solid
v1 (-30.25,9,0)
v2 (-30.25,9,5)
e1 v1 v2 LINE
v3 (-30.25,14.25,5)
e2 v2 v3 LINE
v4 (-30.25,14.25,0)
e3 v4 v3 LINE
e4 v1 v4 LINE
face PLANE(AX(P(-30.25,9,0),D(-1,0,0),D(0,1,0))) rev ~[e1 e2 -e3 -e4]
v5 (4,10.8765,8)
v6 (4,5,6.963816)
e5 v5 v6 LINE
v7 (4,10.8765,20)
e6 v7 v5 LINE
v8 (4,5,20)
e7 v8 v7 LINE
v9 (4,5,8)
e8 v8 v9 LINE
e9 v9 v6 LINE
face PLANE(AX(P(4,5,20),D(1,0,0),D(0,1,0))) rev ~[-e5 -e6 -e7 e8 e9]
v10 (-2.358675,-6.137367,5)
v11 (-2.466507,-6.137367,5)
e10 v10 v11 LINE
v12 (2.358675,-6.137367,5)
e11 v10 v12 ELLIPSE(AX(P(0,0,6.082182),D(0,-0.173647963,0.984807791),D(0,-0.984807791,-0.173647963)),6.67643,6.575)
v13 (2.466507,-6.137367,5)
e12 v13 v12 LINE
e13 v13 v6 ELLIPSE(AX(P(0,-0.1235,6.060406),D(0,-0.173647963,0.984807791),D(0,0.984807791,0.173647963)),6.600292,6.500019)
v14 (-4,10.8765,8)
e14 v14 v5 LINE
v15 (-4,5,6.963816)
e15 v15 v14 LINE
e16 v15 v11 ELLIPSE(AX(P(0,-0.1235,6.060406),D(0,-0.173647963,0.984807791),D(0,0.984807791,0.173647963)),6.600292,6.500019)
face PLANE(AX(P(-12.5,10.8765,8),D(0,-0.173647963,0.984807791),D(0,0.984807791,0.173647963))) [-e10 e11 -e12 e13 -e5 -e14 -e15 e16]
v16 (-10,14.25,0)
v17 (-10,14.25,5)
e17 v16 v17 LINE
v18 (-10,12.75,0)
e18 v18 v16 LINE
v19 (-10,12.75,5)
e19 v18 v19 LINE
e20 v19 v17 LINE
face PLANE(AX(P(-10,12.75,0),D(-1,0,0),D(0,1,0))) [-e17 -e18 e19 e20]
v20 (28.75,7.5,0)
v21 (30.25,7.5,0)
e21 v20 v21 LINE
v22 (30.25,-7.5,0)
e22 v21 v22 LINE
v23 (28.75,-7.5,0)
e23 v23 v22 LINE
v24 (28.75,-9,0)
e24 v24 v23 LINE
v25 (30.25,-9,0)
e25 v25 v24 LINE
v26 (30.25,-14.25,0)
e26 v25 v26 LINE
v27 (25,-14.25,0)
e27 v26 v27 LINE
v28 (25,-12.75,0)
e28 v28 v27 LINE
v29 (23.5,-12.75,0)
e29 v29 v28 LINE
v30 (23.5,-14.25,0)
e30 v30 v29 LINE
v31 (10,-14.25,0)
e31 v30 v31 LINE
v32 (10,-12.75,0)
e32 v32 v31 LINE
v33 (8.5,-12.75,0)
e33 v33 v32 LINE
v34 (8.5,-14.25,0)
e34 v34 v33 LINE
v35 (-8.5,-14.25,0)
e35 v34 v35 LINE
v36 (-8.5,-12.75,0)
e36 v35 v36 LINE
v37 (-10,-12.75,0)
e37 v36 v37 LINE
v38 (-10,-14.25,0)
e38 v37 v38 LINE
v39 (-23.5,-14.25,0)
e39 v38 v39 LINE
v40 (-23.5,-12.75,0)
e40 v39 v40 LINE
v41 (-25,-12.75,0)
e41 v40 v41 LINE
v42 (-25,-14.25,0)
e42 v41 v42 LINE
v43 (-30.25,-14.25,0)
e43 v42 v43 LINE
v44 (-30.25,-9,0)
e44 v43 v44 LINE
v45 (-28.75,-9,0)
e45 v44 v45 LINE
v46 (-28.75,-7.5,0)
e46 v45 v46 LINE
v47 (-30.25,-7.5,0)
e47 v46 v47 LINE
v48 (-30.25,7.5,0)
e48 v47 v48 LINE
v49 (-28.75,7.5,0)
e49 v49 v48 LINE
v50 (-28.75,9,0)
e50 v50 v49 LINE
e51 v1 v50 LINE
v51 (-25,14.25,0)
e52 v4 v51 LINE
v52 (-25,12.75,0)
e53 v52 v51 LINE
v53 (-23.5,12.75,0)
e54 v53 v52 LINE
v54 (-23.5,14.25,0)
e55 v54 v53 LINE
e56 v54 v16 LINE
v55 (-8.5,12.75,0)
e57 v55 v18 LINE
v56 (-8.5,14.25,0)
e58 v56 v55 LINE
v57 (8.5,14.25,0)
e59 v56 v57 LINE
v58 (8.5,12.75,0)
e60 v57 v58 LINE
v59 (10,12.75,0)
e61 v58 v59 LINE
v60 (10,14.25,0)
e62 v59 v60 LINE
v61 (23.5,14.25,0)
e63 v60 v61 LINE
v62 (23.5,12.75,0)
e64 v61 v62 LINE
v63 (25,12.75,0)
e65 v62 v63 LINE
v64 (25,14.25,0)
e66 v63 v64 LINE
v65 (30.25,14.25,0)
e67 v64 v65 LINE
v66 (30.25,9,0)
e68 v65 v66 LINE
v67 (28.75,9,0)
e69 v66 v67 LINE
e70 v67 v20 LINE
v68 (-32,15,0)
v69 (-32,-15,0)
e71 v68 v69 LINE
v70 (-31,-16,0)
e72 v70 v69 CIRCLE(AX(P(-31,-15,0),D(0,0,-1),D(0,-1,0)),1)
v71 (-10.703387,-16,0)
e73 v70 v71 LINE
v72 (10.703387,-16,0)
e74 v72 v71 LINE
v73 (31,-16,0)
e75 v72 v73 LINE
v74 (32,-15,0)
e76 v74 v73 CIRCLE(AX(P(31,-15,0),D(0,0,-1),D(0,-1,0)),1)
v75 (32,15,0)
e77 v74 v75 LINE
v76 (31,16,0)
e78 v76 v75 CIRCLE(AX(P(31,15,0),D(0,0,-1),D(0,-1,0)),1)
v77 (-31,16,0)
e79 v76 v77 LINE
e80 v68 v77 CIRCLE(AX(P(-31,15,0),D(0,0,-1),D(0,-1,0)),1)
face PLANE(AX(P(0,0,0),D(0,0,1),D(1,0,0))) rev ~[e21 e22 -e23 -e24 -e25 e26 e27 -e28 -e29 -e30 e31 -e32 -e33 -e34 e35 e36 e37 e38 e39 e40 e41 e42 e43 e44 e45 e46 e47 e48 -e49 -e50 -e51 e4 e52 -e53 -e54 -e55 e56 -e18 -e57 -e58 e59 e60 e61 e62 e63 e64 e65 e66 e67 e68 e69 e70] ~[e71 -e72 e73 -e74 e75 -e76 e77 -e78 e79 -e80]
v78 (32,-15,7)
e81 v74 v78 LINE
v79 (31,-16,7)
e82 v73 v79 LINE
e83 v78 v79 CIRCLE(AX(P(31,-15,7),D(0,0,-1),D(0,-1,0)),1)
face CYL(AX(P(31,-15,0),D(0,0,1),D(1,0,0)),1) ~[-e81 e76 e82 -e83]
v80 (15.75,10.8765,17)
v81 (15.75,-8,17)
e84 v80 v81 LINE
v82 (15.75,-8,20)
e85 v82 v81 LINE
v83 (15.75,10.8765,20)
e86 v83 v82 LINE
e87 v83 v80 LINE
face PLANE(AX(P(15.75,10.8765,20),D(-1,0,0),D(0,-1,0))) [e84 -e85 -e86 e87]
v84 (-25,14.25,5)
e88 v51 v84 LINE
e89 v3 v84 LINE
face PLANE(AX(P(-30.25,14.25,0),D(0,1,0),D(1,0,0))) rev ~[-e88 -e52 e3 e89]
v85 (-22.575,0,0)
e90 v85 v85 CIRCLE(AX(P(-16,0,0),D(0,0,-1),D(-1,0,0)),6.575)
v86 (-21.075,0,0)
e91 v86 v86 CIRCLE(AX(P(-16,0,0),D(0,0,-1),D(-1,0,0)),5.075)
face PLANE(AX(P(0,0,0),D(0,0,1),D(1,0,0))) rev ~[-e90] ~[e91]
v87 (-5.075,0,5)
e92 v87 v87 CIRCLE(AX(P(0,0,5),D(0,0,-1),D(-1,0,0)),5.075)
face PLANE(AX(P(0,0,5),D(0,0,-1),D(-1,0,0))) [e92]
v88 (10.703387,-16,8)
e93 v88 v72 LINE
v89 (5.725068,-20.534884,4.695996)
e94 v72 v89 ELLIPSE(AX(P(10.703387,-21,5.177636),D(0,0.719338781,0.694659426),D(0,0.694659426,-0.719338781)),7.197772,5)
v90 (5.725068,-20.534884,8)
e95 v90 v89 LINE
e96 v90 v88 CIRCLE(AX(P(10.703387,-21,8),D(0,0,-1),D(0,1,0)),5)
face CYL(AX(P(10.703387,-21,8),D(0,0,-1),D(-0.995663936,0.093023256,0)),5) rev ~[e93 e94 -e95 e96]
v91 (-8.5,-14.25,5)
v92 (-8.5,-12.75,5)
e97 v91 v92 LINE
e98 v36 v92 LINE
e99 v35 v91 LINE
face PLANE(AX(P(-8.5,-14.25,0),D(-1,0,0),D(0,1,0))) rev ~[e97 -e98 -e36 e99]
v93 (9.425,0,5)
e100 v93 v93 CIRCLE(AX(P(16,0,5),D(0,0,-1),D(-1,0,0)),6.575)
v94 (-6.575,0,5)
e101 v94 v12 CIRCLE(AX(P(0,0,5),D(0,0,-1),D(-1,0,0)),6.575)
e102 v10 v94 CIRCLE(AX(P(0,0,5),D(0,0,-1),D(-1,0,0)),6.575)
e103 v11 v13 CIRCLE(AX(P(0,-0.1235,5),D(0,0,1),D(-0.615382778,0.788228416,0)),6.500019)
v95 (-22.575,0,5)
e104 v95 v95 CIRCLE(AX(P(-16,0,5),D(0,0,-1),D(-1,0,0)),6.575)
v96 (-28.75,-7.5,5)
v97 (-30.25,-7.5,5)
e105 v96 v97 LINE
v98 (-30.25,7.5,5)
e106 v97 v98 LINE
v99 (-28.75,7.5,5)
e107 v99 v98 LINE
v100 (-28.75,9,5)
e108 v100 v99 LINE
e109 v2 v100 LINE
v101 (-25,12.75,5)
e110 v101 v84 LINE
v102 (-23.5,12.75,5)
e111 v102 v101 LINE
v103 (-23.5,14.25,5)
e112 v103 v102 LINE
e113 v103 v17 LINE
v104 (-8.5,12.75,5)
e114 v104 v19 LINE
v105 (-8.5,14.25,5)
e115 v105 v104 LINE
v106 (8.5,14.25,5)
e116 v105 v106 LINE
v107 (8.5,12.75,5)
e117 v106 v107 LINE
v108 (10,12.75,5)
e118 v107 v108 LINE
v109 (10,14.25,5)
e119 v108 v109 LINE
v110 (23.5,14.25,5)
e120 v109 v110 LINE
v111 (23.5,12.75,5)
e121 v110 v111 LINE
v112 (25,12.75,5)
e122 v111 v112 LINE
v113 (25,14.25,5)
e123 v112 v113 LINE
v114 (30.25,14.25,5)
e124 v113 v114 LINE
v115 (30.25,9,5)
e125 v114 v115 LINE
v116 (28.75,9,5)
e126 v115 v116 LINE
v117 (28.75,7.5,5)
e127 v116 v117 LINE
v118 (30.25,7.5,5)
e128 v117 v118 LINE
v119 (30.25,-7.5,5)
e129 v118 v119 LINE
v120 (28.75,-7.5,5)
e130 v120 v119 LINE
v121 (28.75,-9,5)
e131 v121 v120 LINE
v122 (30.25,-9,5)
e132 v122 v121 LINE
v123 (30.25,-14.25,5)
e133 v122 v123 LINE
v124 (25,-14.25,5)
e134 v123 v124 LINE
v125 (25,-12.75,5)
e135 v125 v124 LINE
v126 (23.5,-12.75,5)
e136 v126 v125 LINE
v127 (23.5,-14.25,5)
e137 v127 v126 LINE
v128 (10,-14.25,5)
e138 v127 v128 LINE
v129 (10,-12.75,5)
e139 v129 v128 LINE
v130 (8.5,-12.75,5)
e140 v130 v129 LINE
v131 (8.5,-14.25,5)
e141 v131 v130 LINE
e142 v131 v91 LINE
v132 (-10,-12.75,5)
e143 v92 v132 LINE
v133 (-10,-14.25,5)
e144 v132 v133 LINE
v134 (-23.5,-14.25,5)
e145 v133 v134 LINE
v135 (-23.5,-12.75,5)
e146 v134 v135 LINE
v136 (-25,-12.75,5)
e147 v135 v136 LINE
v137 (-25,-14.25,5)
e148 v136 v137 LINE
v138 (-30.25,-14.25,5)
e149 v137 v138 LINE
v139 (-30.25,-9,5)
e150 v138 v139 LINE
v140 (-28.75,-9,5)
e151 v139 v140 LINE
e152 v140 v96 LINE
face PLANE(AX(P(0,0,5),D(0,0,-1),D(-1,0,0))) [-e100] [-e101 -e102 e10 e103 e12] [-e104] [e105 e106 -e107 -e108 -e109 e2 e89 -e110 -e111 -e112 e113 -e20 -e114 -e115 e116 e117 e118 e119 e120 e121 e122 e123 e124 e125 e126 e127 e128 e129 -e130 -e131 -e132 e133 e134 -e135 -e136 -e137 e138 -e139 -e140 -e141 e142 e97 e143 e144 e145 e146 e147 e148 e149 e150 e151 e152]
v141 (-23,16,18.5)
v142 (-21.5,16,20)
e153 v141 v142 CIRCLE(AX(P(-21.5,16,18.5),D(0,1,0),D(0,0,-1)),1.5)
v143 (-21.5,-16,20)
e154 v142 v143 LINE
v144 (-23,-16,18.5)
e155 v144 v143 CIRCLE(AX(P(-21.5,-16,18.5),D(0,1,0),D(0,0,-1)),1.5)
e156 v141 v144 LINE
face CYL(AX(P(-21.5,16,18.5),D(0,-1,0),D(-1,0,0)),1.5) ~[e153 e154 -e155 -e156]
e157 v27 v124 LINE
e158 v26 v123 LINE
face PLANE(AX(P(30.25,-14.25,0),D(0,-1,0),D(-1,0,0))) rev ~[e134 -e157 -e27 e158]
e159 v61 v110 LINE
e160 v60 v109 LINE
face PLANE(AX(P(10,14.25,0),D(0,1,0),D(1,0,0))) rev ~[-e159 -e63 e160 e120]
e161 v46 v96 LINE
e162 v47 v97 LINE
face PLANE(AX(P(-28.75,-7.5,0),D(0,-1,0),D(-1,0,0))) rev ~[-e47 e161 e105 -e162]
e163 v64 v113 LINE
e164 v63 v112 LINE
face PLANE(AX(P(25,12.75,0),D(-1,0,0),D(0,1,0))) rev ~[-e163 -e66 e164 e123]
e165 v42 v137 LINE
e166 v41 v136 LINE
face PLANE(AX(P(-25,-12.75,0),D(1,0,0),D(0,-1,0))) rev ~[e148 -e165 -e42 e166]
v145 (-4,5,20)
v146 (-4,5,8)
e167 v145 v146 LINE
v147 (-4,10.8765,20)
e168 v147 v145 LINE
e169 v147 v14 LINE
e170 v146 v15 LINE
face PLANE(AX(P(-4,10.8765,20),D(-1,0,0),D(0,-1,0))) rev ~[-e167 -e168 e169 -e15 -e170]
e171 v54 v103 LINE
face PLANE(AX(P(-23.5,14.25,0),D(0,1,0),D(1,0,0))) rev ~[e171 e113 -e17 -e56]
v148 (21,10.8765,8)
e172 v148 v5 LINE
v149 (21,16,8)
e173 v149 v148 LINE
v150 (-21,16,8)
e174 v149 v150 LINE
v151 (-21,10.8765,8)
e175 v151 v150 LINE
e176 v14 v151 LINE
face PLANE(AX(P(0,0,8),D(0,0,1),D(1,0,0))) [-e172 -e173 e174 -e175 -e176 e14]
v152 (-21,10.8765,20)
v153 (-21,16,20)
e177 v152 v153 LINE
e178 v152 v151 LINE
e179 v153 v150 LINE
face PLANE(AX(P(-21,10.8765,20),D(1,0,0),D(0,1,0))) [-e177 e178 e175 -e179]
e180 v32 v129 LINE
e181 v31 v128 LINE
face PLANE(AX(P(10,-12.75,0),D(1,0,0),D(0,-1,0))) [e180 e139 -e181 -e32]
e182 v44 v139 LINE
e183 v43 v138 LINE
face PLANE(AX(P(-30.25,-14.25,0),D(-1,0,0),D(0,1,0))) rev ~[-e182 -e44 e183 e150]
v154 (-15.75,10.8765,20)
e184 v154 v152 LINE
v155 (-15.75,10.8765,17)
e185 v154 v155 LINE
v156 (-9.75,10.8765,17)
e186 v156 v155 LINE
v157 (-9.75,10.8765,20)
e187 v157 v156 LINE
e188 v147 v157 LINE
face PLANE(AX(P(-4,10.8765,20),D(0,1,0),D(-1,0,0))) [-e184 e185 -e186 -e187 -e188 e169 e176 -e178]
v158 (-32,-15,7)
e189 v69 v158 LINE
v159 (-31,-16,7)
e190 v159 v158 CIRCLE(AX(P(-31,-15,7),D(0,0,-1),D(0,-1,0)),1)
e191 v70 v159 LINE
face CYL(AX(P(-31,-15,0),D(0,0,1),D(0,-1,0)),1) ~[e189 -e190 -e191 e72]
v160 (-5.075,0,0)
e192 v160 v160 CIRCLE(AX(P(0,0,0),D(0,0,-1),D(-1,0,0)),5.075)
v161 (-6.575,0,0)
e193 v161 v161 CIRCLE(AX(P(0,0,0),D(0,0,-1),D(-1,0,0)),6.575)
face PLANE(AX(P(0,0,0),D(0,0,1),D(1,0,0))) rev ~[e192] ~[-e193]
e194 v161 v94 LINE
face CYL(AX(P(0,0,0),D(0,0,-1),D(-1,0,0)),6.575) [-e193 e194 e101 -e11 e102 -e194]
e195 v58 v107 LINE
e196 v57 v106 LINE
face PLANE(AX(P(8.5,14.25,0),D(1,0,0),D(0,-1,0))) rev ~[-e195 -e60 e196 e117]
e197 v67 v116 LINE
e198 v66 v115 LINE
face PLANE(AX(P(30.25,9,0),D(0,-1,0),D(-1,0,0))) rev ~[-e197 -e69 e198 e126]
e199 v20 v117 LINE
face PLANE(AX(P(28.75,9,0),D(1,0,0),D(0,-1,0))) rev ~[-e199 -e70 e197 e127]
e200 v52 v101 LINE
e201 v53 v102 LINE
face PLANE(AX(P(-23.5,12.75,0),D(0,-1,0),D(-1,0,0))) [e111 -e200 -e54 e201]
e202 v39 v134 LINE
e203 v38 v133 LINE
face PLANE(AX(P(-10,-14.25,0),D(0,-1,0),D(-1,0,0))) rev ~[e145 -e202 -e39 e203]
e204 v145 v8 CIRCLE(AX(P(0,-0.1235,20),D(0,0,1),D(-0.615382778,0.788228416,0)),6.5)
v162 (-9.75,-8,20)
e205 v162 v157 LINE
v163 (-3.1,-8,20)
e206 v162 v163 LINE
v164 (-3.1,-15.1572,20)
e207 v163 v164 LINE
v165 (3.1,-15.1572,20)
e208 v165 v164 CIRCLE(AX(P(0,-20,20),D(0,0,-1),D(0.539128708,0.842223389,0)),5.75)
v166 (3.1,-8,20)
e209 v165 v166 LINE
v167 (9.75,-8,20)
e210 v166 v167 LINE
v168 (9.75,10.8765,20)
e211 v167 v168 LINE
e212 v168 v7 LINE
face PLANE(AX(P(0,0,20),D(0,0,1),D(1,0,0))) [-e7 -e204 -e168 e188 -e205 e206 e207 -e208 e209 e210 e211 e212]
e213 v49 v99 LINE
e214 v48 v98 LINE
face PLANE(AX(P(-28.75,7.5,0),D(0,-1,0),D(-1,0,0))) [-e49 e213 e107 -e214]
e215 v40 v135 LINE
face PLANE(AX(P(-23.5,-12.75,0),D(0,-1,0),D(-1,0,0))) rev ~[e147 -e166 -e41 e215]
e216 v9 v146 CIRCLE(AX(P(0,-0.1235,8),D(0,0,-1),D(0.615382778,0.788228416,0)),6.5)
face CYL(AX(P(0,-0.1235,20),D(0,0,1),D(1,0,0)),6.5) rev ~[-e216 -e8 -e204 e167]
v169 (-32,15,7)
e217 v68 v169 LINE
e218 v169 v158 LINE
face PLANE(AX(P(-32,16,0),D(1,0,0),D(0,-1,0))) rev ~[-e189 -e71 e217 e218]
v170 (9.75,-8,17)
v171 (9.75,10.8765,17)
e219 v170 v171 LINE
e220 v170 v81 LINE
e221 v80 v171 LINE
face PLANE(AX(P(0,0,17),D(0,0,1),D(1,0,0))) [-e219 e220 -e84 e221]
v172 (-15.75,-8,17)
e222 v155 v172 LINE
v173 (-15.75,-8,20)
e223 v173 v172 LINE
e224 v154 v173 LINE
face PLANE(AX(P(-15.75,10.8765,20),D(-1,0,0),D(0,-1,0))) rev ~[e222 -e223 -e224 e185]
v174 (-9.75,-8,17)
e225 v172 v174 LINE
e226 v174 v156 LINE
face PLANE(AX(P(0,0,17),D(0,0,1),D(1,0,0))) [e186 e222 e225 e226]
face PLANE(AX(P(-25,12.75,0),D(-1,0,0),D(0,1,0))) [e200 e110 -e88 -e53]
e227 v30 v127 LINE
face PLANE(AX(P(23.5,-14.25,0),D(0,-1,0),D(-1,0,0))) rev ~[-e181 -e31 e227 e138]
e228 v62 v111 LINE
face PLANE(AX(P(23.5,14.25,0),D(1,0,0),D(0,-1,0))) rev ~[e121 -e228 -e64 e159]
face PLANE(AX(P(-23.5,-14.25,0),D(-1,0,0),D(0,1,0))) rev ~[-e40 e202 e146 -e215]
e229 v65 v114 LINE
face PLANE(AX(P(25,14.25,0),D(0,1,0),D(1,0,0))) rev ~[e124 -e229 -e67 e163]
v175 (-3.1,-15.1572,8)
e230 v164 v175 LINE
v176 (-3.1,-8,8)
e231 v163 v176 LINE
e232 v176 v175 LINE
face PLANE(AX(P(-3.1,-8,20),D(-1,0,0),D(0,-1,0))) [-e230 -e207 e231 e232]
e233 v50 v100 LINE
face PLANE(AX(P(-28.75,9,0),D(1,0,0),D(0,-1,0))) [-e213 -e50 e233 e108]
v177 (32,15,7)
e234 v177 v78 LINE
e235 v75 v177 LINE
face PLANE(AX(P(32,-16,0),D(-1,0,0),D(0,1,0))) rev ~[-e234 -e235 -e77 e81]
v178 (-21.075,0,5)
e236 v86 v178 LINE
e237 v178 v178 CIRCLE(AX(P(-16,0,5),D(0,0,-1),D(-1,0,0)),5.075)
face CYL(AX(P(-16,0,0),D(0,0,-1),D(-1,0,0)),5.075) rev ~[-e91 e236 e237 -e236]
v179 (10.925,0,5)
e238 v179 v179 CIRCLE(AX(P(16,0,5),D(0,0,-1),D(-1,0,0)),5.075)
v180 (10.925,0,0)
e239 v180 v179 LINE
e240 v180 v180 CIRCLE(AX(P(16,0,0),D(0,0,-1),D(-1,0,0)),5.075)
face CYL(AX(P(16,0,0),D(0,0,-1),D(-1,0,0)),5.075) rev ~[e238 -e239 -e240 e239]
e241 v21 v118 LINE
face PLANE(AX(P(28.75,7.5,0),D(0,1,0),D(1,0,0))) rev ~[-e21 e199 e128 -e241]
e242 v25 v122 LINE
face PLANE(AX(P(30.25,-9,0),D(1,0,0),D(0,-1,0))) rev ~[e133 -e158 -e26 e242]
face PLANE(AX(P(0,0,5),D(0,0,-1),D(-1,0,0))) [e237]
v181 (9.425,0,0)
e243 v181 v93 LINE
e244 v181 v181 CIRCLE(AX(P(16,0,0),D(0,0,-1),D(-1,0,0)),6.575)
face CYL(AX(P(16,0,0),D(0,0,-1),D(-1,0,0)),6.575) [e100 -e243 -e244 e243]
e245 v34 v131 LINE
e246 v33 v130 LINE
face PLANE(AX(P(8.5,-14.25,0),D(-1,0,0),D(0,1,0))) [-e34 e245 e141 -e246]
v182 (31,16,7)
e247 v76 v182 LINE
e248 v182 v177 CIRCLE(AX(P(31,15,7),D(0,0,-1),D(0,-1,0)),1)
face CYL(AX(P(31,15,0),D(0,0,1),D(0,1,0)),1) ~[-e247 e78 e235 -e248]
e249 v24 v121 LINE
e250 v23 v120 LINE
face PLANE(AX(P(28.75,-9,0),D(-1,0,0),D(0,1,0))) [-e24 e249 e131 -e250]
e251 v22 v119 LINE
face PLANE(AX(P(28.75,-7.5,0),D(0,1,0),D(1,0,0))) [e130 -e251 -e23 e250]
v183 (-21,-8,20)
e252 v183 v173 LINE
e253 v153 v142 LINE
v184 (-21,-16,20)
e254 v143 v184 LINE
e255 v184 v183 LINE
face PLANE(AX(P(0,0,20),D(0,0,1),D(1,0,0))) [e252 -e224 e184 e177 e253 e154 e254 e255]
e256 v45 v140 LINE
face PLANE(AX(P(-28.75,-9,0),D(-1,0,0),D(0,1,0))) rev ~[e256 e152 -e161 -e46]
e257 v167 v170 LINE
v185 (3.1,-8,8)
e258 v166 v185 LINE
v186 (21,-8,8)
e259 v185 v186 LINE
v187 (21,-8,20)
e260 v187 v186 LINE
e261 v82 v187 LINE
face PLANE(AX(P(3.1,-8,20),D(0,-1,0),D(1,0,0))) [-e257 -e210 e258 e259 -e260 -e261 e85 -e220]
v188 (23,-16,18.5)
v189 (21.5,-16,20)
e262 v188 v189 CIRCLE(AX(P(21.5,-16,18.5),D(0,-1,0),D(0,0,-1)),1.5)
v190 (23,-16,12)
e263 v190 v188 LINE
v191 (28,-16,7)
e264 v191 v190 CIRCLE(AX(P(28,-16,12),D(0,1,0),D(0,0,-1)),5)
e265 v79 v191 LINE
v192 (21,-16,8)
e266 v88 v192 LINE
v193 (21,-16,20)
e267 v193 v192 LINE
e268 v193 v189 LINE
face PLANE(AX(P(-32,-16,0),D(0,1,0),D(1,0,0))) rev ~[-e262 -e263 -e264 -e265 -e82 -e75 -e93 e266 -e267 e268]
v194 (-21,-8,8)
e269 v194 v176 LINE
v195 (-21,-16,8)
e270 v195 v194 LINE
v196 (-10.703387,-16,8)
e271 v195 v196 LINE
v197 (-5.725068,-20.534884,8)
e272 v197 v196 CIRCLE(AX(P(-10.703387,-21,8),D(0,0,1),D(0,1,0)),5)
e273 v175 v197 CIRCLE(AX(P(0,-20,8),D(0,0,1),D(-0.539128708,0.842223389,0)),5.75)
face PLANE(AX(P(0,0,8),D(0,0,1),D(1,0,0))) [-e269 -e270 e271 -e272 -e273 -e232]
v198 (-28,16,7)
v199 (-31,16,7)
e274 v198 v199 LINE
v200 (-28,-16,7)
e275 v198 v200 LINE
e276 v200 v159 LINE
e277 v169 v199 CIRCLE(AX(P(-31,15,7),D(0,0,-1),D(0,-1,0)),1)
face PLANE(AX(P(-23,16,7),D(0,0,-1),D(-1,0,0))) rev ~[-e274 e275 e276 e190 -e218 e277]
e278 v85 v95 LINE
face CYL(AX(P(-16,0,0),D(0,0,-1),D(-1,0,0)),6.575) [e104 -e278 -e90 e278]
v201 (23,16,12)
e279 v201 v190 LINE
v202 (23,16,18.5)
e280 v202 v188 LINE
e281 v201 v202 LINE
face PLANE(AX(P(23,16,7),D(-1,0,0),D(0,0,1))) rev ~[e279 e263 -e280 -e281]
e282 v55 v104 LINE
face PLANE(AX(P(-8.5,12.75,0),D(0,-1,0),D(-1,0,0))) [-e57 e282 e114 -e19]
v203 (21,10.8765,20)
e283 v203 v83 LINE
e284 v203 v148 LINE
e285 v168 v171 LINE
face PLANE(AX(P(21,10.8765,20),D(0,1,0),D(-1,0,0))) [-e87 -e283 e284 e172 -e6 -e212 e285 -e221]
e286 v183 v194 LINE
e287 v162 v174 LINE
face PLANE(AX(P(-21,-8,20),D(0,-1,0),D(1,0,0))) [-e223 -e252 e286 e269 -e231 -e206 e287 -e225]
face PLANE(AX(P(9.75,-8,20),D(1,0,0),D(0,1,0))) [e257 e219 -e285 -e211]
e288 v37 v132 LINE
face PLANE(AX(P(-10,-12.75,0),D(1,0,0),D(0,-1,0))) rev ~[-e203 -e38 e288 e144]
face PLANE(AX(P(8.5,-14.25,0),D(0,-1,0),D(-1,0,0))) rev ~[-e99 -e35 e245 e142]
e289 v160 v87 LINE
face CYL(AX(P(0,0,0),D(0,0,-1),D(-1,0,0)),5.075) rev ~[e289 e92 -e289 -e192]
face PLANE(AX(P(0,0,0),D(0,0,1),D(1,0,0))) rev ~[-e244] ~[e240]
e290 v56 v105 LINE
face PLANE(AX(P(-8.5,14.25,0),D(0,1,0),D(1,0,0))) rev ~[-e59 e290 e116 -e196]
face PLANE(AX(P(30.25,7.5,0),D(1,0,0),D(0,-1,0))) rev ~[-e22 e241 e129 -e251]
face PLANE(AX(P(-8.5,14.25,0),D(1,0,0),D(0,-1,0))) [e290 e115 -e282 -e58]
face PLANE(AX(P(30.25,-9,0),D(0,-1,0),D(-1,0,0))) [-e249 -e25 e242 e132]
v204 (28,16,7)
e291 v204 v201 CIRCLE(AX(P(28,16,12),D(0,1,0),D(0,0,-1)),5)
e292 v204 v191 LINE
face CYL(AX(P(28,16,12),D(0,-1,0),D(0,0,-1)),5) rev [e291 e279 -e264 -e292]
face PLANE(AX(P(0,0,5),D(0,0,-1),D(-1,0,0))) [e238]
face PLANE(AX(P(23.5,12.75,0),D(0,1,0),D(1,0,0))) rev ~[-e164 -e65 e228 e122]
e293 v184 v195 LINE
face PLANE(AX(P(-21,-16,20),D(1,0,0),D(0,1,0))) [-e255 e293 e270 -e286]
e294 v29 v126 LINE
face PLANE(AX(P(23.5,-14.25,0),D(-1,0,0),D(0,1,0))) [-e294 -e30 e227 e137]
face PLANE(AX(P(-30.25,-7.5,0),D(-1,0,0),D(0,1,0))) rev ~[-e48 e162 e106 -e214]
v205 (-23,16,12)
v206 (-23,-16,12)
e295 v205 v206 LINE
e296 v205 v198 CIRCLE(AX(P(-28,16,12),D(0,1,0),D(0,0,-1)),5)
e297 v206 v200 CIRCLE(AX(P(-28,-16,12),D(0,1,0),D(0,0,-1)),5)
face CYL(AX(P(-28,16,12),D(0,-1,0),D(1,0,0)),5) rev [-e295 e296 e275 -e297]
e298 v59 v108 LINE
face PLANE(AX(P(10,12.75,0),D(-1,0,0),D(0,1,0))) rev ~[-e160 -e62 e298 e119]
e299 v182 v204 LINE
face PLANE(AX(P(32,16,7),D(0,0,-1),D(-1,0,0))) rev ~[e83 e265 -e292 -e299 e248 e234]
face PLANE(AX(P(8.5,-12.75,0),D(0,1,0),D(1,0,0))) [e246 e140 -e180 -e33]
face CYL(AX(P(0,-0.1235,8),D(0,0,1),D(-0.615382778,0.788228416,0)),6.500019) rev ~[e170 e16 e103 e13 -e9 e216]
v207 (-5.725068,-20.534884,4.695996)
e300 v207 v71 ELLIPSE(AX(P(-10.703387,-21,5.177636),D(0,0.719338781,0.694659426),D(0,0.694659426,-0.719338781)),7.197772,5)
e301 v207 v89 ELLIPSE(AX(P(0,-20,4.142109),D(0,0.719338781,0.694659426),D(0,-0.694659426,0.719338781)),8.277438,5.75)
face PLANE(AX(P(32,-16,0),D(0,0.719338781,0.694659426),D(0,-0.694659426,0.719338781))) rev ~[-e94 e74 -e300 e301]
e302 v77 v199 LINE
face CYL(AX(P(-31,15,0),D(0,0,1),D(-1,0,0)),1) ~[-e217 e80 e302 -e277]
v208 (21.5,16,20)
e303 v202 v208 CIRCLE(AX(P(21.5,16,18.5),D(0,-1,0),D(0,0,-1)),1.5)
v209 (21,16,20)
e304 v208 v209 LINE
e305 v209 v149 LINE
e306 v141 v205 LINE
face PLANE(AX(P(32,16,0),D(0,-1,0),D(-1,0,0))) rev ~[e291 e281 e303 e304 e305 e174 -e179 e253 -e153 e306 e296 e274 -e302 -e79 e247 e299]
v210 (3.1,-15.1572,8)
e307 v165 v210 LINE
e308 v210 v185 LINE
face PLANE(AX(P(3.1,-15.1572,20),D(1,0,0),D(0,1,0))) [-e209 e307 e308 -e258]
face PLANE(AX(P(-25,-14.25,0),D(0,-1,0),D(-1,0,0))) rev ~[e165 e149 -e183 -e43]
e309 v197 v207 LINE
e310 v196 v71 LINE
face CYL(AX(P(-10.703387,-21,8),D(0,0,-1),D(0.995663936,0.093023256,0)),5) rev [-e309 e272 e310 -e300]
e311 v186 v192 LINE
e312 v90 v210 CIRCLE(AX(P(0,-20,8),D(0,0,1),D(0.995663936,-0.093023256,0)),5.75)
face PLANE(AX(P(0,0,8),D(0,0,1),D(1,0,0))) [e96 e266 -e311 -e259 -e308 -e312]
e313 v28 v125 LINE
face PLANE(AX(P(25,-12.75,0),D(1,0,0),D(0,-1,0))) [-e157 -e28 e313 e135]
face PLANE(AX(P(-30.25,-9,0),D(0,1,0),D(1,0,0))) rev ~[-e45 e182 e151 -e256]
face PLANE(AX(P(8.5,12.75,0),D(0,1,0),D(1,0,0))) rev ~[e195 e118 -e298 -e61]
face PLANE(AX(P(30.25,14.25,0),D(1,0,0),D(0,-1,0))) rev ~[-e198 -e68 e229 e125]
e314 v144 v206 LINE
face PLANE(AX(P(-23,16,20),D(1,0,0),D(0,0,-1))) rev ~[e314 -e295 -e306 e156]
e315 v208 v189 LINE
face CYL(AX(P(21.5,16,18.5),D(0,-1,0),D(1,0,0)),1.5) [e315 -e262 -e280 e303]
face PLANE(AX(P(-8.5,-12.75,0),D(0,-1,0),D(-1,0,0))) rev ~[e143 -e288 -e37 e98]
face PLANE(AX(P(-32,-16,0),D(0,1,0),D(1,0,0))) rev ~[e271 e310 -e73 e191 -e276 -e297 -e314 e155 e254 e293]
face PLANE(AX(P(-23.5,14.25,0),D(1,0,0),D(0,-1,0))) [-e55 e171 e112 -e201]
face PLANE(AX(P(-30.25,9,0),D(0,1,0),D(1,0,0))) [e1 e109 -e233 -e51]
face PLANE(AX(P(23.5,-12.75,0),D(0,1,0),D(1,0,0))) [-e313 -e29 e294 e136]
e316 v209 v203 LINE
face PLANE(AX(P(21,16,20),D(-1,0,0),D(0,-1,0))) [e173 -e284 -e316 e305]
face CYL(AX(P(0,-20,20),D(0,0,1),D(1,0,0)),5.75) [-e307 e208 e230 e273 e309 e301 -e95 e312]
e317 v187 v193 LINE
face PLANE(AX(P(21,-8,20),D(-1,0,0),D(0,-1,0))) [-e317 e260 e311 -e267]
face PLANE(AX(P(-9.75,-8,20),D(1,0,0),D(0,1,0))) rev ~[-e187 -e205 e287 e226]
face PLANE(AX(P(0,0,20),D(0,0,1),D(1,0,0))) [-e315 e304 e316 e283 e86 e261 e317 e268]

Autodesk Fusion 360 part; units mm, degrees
sketch "Skizze1" plane through (0, 0, 0) normal (0, 0, 1) x (1, 0, 0)
  line L0 (32, 16) -> (-32, 16)
  line L1 (-32, 16) -> (-32, -16)
  line L2 (-32, -16) -> (32, -16)
  line L3 (32, -16) -> (32, 16)
  line L4 (32, 16) -> (-32, -16) construction
  line L5 (-32, 16) -> (32, -16) construction
  dimension "d1" = 64
  dimension "d2" = 32
extrude "Extrusion1" add sketch "Skizze1" along normal blind 20
sketch "Skizze2" plane through (0, 0, 0) normal (0, 0, -1) x (-1, 0, 0)
  line L0 (-32, 16) -> (-32, -16)
  line L1 (-32, -16) -> (32, -16)
  line L2 (32, -16) -> (32, 16)
  line L3 (32, 16) -> (-32, 16)
  line L4 (30.25, 14.25) -> (-30.25, 14.25)
  line L5 (-30.25, 14.25) -> (-30.25, -14.25)
  line L6 (-30.25, -14.25) -> (30.25, -14.25)
  line L7 (30.25, -14.25) -> (30.25, 14.25)
  line L8 (30.25, 14.25) -> (-30.25, -14.25) construction
  line L9 (-30.25, 14.25) -> (30.25, -14.25) construction
  line L10 (-25, 14.25) -> (-23.5, 14.25)
  line L11 (-23.5, 14.25) -> (-23.5, 12.75)
  line L12 (-23.5, 12.75) -> (-25, 12.75)
  line L13 (-25, 12.75) -> (-25, 14.25)
  line L14 (-30.25, 9) -> (-28.75, 9)
  line L15 (-28.75, 9) -> (-28.75, 7.5)
  line L16 (-28.75, 7.5) -> (-30.25, 7.5)
  line L17 (-30.25, 7.5) -> (-30.25, 9)
  line L18 (-10, 14.25) -> (-8.5, 14.25)
  line L19 (-8.5, 14.25) -> (-8.5, 12.75)
  line L20 (-8.5, 12.75) -> (-10, 12.75)
  line L21 (-10, 12.75) -> (-10, 14.25)
  line L22 (-24.25, 12.75) -> (-24.25, 14.25) construction
  line L23 (-28.75, 8.25) -> (-30.25, 8.25) construction
  line L24 (-9.25, 12.75) -> (-9.25, 14.25) construction
  line L25 (0, 0) -> (0, 14.25) construction
  line L26 (0, 0) -> (-30.25, 0) construction
  line L27 (24.25, 12.75) -> (24.25, 14.25) construction
  line L28 (8.5, 14.25) -> (8.5, 12.75)
  line L29 (28.75, 7.5) -> (30.25, 7.5)
  line L30 (10, 14.25) -> (8.5, 14.25)
  line L31 (8.5, 12.75) -> (10, 12.75)
  line L32 (23.5, 12.75) -> (25, 12.75)
  line L33 (28.75, 8.25) -> (30.25, 8.25) construction
  line L34 (28.75, 9) -> (28.75, 7.5)
  line L35 (25, 12.75) -> (25, 14.25)
  line L36 (30.25, 7.5) -> (30.25, 9)
  line L37 (9.25, 12.75) -> (9.25, 14.25) construction
  line L38 (30.25, 9) -> (28.75, 9)
  line L39 (10, 12.75) -> (10, 14.25)
  line L40 (25, 14.25) -> (23.5, 14.25)
  line L41 (23.5, 14.25) -> (23.5, 12.75)
  line L42 (-25, -12.75) -> (-25, -14.25)
  line L43 (-28.75, -9) -> (-28.75, -7.5)
  line L44 (-30.25, -9) -> (-28.75, -9)
  line L45 (30.25, -14.25) -> (-30.25, -14.25)
  line L46 (-28.75, -8.25) -> (-30.25, -8.25) construction
  line L47 (25, -14.25) -> (23.5, -14.25)
  line L48 (-10, -14.25) -> (-8.5, -14.25)
  line L49 (23.5, -12.75) -> (25, -12.75)
  line L50 (-23.5, -14.25) -> (-23.5, -12.75)
  line L51 (32, -16) -> (-32, -16)
  line L52 (10, -12.75) -> (10, -14.25)
  line L53 (-9.25, -12.75) -> (-9.25, -14.25) construction
  line L54 (-28.75, -7.5) -> (-30.25, -7.5)
  line L55 (8.5, -12.75) -> (10, -12.75)
  line L56 (-10, -12.75) -> (-10, -14.25)
  line L57 (28.75, -8.25) -> (30.25, -8.25) construction
  line L58 (-25, -14.25) -> (-23.5, -14.25)
  line L59 (8.5, -14.25) -> (8.5, -12.75)
  line L60 (24.25, -12.75) -> (24.25, -14.25) construction
  line L61 (-23.5, -12.75) -> (-25, -12.75)
  line L62 (30.25, -9) -> (28.75, -9)
  line L63 (-8.5, -14.25) -> (-8.5, -12.75)
  line L64 (23.5, -14.25) -> (23.5, -12.75)
  line L65 (30.25, -7.5) -> (30.25, -9)
  line L66 (10, -14.25) -> (8.5, -14.25)
  line L67 (-24.25, -12.75) -> (-24.25, -14.25) construction
  line L68 (28.75, -9) -> (28.75, -7.5)
  line L69 (9.25, -12.75) -> (9.25, -14.25) construction
  line L70 (-8.5, -12.75) -> (-10, -12.75)
  line L71 (-30.25, -7.5) -> (-30.25, -9)
  line L72 (28.75, -7.5) -> (30.25, -7.5)
  line L73 (25, -12.75) -> (25, -14.25)
  circle A0 centre (0, 0) radius 6.575
  circle A1 centre (16, 0) radius 6.575
  circle A2 centre (-16, 0) radius 6.575
  circle A3 centre (-16, 0) radius 5.075
  circle A4 centre (0, 0) radius 5.075
  circle A5 centre (16, 0) radius 5.075
  point P0 (32, 16)
  point P1 (30.25, 14.25)
  point P2 (0, -14.25)
  point P3 (32, -16)
  point P4 (30.25, -14.25)
  dimension "d7" = 1.75
  dimension "d8" = 1.75
  dimension "d9" = 1.5
  dimension "d10" = 1.5
  dimension "d11" = 6
  dimension "d12" = 6
  dimension "d13" = 15
  dimension "d14" = 13.15
  dimension "d17" = 16
  dimension "d18" = 0
  dimension "d19" = 1.5
extrude "Extrusion2" cut sketch "Skizze2" against normal blind 5 contours L4 L5 L6 L7 L11 L12 L13 L14 L15 L16 L19 L20 L21 L28 L29 L31 L32 L34 L35 L38 L39 L41 L42 L43 L44 L45 L49 L50 L52 L54 L55 L56 L59 L61 L62 L63 L64 L68 L70 L72 L73 | A3 | A4 | A5
sketch "Skizze3" plane through (0, 0, 20) normal (0, 0, 1) x (1, 0, 0)
  line L0 (32, -16) -> (32, 16)
  line L1 (32, 16) -> (-32, 16)
  line L2 (-32, 16) -> (-32, -16)
  line L3 (-32, -16) -> (32, -16)
  circle A0 centre (0, -0.1235) radius 6.5
  line L4 (0, -0.1235) -> (0, 16) construction
  line L5 (-21, 16) -> (21, 16)
  line L6 (21, 16) -> (21, 10.8765)
  line L7 (21, 10.8765) -> (-21, 10.8765)
  line L8 (-21, 10.8765) -> (-21, 16)
  line L9 (-21, 16) -> (21, 10.8765) construction
  line L10 (21, 16) -> (-21, 10.8765) construction
  line L11 (-4, 5) -> (4, 5)
  line L12 (4, 5) -> (4, 10.8765)
  line L13 (4, 10.8765) -> (-4, 10.8765)
  line L14 (-4, 10.8765) -> (-4, 5)
  line L15 (-4, 5) -> (4, 10.8765) construction
  line L16 (4, 5) -> (-4, 10.8765) construction
  point P0 (0, 13.4383)
  point P1 (0, 7.9383)
  dimension "d22" = 42
  dimension "d23" = 8
  dimension "d24" = 13
  dimension "d25" = 11
extrude "Extrusion3" cut sketch "Skizze3" against normal blind 12 contours L1 L5 L6 L7 L8 L13 | A0 L7 L12 L13 L14 | A0 L11 | A0 L11
sketch "Skizze4" plane through (0, 0, 20) normal (0, 0, 1) x (1, 0, 0)
  line L0 (-21, 10.8765) -> (-21, 16)
  line L1 (-21, 16) -> (-32, 16)
  line L2 (-32, 16) -> (-32, -16)
  line L3 (-32, -16) -> (32, -16)
  line L4 (32, -16) -> (32, 16)
  line L5 (32, 16) -> (21, 16)
  line L6 (21, 16) -> (21, 10.8765)
  line L7 (21, 10.8765) -> (4, 10.8765)
  line L8 (4, 10.8765) -> (4, 5)
  arc A0 (-4, 5) -> (4, 5) centre (0, -0.1235) ccw
  line L9 (-4, 5) -> (-4, 10.8765)
  line L10 (-4, 10.8765) -> (-21, 10.8765)
  line L11 (0, 0) -> (0, -20) construction
  circle A1 centre (0, -20) radius 5.75
  line L12 (-3.1, -15.1572) -> (3.1, -15.1572)
  line L13 (3.1, -15.1572) -> (3.1, -8)
  line L14 (3.1, -8) -> (-3.1, -8)
  line L15 (-3.1, -8) -> (-3.1, -15.1572)
  line L16 (-3.1, -15.1572) -> (3.1, -8) construction
  line L17 (3.1, -15.1572) -> (-3.1, -8) construction
  line L18 (-21, -8) -> (21, -8)
  line L19 (21, -8) -> (21, -28)
  line L20 (21, -28) -> (-21, -28)
  line L21 (-21, -28) -> (-21, -8)
  line L22 (-21, -8) -> (21, -28) construction
  line L23 (21, -8) -> (-21, -28) construction
  point P0 (0, -11.5786)
  point P1 (0, -18)
  dimension "d29" = 11.5
  dimension "d30" = 6.2
  dimension "d31" = 8
  dimension "d32" = 12
  dimension "d33" = 20
  dimension "d34" = 42
extrude "Extrusion4" cut sketch "Skizze4" against normal blind 12 contours L3 A1 L15 L18 L21 | L3 A1 L13 L18 L19
extrude "Extrusion5" add sketch "Skizze4" against normal blind 20 contours L3 A1
fillet "Abrundung1" radius 5 2 edges at (-4.1307, -16, 4) (4.1307, -16, 4)
sketch "Skizze5" plane through (0, 0, 20) normal (0, 0, 1) x (1, 0, 0)
  line L0 (21, -8) -> (21, -16)
  line L1 (21, -16) -> (32, -16)
  line L2 (32, -16) -> (32, 16)
  line L3 (32, 16) -> (21, 16)
  line L4 (21, 16) -> (21, 10.8765)
  line L5 (21, 10.8765) -> (4, 10.8765)
  line L6 (4, 10.8765) -> (4, 5)
  arc A0 (-4, 5) -> (4, 5) centre (0, -0.1235) ccw
  line L7 (-4, 5) -> (-4, 10.8765)
  line L8 (-4, 10.8765) -> (-21, 10.8765)
  line L9 (-21, 10.8765) -> (-21, 16)
  line L10 (-21, 16) -> (-32, 16)
  line L11 (-32, 16) -> (-32, -16)
  line L12 (-32, -16) -> (-21, -16)
  line L13 (-21, -16) -> (-21, -8)
  line L14 (-21, -8) -> (-3.1, -8)
  line L15 (-3.1, -8) -> (-3.1, -15.1572)
  arc A1 (-3.1, -15.1572) -> (3.1, -15.1572) centre (0, -20) ccw
  line L16 (3.1, -15.1572) -> (3.1, -8)
  line L17 (3.1, -8) -> (21, -8)
  line L18 (0, -0.1235) -> (0, 16)
  line L19 (-9.75, 16) -> (-15.75, 16)
  line L20 (-15.75, 16) -> (-15.75, -16)
  line L21 (-15.75, -16) -> (-9.75, -16)
  line L22 (-9.75, -16) -> (-9.75, 16)
  line L23 (9.75, 16) -> (15.75, 16)
  line L24 (15.75, 16) -> (15.75, -16)
  line L25 (15.75, -16) -> (9.75, -16)
  line L26 (9.75, -16) -> (9.75, 16)
  dimension "d41" = 6
  dimension "d42" = 19.5
extrude "Extrusion6" cut sketch "Skizze5" against normal blind 3 contours L5 L17 L24 L26 | L8 L14 L20 L22
sketch "Skizze7" plane through (32, 0, 0) normal (1, 0, 0) x (0, 0, -1)
  line L0 (-20, -16) -> (0, -16)
  line L1 (0, -16) -> (0, 16)
  line L2 (0, 16) -> (-20, 16)
  line L3 (0, -16) -> (-11.3908, -27)
  line L4 (-11.3908, -27) -> (0, -27)
  line L5 (0, -27) -> (0, -16)
  line L6 (-20, 16) -> (-20, -16)
  dimension "d46" = 11
  dimension "d49" = 46
extrude "Extrusion7" cut sketch "Skizze7" against normal blind 64 contours L3 L4 L5
ref_plane "Arbeitsebene1" through (-12.5, 10.8765, 8) normal (0, -0.1736, 0.9848) x (-1, 0, 0)
sketch "Skizze8" plane through (0, 0, 8) normal (0, 0, 1) x (1, 0, 0)
  line L0 (-21, 10.8765) -> (-4, 10.8765)
  line L1 (-4, 10.8765) -> (-4, 5)
  arc A0 (-4, 5) -> (4, 5) centre (0, -0.1235) ccw
  line L2 (4, 5) -> (4, 10.8765)
  line L3 (4, 10.8765) -> (21, 10.8765)
  line L4 (21, 10.8765) -> (21, 16)
  line L5 (21, 16) -> (-21, 16)
  line L6 (-21, 16) -> (-21, 10.8765)
  line L7 (-4, 10.8765) -> (4, 10.8765)
extrude "Extrusion8" cut sketch "Skizze8" along normal up to surface contours L1 A0 L2 L7 end surface through (-12.5, 10.8765, 8) normal (0, -0.173648, 0.984808) offset 0
sketch "Skizze9" plane through (0, 16, 0) normal (0, 1, 0) x (-1, 0, 0)
  line L0 (21, 20) -> (21, 8)
  line L1 (21, 8) -> (-21, 8)
  line L2 (-21, 8) -> (-21, 20)
  line L3 (-21, 20) -> (-32, 20)
  line L4 (-32, 20) -> (-32, 0)
  line L5 (-32, 0) -> (32, 0)
  line L6 (32, 0) -> (32, 20)
  line L7 (32, 20) -> (21, 20)
  line L8 (23.5, 5) -> (25, 5)
  line L9 (25, 5) -> (30.25, 5)
  line L10 (30.25, 5) -> (28.75, 5)
  line L11 (28.75, 5) -> (30.25, 5)
  line L12 (30.25, 5) -> (28.75, 5)
  line L13 (28.75, 5) -> (30.25, 5)
  line L14 (30.25, 5) -> (25, 5)
  line L15 (25, 5) -> (23.5, 5)
  line L16 (23.5, 5) -> (10, 5)
  line L17 (10, 5) -> (8.5, 5)
  line L18 (8.5, 5) -> (-8.5, 5)
  line L19 (-8.5, 5) -> (-10, 5)
  line L20 (-10, 5) -> (-23.5, 5)
  line L21 (-23.5, 5) -> (-25, 5)
  line L22 (-25, 5) -> (-30.25, 5)
  line L23 (-30.25, 5) -> (-28.75, 5)
  line L24 (-28.75, 5) -> (-30.25, 5)
  line L25 (-30.25, 5) -> (-28.75, 5)
  line L26 (-28.75, 5) -> (-30.25, 5)
  line L27 (-30.25, 5) -> (-25, 5)
  line L28 (-25, 5) -> (-23.5, 5)
  line L29 (-23.5, 5) -> (-10, 5)
  line L30 (-10, 5) -> (-8.5, 5)
  line L31 (-8.5, 5) -> (8.5, 5)
  line L32 (8.5, 5) -> (10, 5)
  line L33 (10, 5) -> (23.5, 5)
  line L34 (9.425, 5) -> (22.575, 5)
  line L35 (-22.575, 5) -> (-9.425, 5)
  line L36 (2.3588, 5) -> (2.4665, 5)
  line L37 (2.4665, 5) -> (-2.4665, 5)
  line L38 (-2.4665, 5) -> (-2.3588, 5)
  line L39 (-6.575, 5) -> (6.575, 5)
  line L40 (-32, 7) -> (-23, 7)
  line L41 (-23, 7) -> (-23, 20)
  line L42 (-23, 20) -> (-32, 20)
  line L43 (-32, 20) -> (-32, 7)
  line L44 (32, 20) -> (23, 20)
  line L45 (23, 20) -> (23, 7)
  line L46 (23, 7) -> (32, 7)
  line L47 (32, 7) -> (32, 20)
  dimension "d55" = 2
  dimension "d56" = 2
  dimension "d57" = 2
extrude "Extrusion9" cut sketch "Skizze9" against normal blind 32 contours L6 L7 L44 L45 L46 L47 | L3 L4 L40 L41 L42 L43
fillet "Abrundung2" radius 5 2 edges at (-23, 0, 7) (23, 0, 7)
fillet "Abrundung3" radius 1.5 2 edges at (23, 0, 20) (-23, 0, 20)
fillet "Abrundung4" radius 1 4 edges at (-32, 16, 3.5) (-32, -16, 3.5) (32, 16, 3.5) (32, -16, 3.5)
equation "d8 = d7"
equation "d12 = d11"
equation "d56 = d55"
equation "d57 = d55"
